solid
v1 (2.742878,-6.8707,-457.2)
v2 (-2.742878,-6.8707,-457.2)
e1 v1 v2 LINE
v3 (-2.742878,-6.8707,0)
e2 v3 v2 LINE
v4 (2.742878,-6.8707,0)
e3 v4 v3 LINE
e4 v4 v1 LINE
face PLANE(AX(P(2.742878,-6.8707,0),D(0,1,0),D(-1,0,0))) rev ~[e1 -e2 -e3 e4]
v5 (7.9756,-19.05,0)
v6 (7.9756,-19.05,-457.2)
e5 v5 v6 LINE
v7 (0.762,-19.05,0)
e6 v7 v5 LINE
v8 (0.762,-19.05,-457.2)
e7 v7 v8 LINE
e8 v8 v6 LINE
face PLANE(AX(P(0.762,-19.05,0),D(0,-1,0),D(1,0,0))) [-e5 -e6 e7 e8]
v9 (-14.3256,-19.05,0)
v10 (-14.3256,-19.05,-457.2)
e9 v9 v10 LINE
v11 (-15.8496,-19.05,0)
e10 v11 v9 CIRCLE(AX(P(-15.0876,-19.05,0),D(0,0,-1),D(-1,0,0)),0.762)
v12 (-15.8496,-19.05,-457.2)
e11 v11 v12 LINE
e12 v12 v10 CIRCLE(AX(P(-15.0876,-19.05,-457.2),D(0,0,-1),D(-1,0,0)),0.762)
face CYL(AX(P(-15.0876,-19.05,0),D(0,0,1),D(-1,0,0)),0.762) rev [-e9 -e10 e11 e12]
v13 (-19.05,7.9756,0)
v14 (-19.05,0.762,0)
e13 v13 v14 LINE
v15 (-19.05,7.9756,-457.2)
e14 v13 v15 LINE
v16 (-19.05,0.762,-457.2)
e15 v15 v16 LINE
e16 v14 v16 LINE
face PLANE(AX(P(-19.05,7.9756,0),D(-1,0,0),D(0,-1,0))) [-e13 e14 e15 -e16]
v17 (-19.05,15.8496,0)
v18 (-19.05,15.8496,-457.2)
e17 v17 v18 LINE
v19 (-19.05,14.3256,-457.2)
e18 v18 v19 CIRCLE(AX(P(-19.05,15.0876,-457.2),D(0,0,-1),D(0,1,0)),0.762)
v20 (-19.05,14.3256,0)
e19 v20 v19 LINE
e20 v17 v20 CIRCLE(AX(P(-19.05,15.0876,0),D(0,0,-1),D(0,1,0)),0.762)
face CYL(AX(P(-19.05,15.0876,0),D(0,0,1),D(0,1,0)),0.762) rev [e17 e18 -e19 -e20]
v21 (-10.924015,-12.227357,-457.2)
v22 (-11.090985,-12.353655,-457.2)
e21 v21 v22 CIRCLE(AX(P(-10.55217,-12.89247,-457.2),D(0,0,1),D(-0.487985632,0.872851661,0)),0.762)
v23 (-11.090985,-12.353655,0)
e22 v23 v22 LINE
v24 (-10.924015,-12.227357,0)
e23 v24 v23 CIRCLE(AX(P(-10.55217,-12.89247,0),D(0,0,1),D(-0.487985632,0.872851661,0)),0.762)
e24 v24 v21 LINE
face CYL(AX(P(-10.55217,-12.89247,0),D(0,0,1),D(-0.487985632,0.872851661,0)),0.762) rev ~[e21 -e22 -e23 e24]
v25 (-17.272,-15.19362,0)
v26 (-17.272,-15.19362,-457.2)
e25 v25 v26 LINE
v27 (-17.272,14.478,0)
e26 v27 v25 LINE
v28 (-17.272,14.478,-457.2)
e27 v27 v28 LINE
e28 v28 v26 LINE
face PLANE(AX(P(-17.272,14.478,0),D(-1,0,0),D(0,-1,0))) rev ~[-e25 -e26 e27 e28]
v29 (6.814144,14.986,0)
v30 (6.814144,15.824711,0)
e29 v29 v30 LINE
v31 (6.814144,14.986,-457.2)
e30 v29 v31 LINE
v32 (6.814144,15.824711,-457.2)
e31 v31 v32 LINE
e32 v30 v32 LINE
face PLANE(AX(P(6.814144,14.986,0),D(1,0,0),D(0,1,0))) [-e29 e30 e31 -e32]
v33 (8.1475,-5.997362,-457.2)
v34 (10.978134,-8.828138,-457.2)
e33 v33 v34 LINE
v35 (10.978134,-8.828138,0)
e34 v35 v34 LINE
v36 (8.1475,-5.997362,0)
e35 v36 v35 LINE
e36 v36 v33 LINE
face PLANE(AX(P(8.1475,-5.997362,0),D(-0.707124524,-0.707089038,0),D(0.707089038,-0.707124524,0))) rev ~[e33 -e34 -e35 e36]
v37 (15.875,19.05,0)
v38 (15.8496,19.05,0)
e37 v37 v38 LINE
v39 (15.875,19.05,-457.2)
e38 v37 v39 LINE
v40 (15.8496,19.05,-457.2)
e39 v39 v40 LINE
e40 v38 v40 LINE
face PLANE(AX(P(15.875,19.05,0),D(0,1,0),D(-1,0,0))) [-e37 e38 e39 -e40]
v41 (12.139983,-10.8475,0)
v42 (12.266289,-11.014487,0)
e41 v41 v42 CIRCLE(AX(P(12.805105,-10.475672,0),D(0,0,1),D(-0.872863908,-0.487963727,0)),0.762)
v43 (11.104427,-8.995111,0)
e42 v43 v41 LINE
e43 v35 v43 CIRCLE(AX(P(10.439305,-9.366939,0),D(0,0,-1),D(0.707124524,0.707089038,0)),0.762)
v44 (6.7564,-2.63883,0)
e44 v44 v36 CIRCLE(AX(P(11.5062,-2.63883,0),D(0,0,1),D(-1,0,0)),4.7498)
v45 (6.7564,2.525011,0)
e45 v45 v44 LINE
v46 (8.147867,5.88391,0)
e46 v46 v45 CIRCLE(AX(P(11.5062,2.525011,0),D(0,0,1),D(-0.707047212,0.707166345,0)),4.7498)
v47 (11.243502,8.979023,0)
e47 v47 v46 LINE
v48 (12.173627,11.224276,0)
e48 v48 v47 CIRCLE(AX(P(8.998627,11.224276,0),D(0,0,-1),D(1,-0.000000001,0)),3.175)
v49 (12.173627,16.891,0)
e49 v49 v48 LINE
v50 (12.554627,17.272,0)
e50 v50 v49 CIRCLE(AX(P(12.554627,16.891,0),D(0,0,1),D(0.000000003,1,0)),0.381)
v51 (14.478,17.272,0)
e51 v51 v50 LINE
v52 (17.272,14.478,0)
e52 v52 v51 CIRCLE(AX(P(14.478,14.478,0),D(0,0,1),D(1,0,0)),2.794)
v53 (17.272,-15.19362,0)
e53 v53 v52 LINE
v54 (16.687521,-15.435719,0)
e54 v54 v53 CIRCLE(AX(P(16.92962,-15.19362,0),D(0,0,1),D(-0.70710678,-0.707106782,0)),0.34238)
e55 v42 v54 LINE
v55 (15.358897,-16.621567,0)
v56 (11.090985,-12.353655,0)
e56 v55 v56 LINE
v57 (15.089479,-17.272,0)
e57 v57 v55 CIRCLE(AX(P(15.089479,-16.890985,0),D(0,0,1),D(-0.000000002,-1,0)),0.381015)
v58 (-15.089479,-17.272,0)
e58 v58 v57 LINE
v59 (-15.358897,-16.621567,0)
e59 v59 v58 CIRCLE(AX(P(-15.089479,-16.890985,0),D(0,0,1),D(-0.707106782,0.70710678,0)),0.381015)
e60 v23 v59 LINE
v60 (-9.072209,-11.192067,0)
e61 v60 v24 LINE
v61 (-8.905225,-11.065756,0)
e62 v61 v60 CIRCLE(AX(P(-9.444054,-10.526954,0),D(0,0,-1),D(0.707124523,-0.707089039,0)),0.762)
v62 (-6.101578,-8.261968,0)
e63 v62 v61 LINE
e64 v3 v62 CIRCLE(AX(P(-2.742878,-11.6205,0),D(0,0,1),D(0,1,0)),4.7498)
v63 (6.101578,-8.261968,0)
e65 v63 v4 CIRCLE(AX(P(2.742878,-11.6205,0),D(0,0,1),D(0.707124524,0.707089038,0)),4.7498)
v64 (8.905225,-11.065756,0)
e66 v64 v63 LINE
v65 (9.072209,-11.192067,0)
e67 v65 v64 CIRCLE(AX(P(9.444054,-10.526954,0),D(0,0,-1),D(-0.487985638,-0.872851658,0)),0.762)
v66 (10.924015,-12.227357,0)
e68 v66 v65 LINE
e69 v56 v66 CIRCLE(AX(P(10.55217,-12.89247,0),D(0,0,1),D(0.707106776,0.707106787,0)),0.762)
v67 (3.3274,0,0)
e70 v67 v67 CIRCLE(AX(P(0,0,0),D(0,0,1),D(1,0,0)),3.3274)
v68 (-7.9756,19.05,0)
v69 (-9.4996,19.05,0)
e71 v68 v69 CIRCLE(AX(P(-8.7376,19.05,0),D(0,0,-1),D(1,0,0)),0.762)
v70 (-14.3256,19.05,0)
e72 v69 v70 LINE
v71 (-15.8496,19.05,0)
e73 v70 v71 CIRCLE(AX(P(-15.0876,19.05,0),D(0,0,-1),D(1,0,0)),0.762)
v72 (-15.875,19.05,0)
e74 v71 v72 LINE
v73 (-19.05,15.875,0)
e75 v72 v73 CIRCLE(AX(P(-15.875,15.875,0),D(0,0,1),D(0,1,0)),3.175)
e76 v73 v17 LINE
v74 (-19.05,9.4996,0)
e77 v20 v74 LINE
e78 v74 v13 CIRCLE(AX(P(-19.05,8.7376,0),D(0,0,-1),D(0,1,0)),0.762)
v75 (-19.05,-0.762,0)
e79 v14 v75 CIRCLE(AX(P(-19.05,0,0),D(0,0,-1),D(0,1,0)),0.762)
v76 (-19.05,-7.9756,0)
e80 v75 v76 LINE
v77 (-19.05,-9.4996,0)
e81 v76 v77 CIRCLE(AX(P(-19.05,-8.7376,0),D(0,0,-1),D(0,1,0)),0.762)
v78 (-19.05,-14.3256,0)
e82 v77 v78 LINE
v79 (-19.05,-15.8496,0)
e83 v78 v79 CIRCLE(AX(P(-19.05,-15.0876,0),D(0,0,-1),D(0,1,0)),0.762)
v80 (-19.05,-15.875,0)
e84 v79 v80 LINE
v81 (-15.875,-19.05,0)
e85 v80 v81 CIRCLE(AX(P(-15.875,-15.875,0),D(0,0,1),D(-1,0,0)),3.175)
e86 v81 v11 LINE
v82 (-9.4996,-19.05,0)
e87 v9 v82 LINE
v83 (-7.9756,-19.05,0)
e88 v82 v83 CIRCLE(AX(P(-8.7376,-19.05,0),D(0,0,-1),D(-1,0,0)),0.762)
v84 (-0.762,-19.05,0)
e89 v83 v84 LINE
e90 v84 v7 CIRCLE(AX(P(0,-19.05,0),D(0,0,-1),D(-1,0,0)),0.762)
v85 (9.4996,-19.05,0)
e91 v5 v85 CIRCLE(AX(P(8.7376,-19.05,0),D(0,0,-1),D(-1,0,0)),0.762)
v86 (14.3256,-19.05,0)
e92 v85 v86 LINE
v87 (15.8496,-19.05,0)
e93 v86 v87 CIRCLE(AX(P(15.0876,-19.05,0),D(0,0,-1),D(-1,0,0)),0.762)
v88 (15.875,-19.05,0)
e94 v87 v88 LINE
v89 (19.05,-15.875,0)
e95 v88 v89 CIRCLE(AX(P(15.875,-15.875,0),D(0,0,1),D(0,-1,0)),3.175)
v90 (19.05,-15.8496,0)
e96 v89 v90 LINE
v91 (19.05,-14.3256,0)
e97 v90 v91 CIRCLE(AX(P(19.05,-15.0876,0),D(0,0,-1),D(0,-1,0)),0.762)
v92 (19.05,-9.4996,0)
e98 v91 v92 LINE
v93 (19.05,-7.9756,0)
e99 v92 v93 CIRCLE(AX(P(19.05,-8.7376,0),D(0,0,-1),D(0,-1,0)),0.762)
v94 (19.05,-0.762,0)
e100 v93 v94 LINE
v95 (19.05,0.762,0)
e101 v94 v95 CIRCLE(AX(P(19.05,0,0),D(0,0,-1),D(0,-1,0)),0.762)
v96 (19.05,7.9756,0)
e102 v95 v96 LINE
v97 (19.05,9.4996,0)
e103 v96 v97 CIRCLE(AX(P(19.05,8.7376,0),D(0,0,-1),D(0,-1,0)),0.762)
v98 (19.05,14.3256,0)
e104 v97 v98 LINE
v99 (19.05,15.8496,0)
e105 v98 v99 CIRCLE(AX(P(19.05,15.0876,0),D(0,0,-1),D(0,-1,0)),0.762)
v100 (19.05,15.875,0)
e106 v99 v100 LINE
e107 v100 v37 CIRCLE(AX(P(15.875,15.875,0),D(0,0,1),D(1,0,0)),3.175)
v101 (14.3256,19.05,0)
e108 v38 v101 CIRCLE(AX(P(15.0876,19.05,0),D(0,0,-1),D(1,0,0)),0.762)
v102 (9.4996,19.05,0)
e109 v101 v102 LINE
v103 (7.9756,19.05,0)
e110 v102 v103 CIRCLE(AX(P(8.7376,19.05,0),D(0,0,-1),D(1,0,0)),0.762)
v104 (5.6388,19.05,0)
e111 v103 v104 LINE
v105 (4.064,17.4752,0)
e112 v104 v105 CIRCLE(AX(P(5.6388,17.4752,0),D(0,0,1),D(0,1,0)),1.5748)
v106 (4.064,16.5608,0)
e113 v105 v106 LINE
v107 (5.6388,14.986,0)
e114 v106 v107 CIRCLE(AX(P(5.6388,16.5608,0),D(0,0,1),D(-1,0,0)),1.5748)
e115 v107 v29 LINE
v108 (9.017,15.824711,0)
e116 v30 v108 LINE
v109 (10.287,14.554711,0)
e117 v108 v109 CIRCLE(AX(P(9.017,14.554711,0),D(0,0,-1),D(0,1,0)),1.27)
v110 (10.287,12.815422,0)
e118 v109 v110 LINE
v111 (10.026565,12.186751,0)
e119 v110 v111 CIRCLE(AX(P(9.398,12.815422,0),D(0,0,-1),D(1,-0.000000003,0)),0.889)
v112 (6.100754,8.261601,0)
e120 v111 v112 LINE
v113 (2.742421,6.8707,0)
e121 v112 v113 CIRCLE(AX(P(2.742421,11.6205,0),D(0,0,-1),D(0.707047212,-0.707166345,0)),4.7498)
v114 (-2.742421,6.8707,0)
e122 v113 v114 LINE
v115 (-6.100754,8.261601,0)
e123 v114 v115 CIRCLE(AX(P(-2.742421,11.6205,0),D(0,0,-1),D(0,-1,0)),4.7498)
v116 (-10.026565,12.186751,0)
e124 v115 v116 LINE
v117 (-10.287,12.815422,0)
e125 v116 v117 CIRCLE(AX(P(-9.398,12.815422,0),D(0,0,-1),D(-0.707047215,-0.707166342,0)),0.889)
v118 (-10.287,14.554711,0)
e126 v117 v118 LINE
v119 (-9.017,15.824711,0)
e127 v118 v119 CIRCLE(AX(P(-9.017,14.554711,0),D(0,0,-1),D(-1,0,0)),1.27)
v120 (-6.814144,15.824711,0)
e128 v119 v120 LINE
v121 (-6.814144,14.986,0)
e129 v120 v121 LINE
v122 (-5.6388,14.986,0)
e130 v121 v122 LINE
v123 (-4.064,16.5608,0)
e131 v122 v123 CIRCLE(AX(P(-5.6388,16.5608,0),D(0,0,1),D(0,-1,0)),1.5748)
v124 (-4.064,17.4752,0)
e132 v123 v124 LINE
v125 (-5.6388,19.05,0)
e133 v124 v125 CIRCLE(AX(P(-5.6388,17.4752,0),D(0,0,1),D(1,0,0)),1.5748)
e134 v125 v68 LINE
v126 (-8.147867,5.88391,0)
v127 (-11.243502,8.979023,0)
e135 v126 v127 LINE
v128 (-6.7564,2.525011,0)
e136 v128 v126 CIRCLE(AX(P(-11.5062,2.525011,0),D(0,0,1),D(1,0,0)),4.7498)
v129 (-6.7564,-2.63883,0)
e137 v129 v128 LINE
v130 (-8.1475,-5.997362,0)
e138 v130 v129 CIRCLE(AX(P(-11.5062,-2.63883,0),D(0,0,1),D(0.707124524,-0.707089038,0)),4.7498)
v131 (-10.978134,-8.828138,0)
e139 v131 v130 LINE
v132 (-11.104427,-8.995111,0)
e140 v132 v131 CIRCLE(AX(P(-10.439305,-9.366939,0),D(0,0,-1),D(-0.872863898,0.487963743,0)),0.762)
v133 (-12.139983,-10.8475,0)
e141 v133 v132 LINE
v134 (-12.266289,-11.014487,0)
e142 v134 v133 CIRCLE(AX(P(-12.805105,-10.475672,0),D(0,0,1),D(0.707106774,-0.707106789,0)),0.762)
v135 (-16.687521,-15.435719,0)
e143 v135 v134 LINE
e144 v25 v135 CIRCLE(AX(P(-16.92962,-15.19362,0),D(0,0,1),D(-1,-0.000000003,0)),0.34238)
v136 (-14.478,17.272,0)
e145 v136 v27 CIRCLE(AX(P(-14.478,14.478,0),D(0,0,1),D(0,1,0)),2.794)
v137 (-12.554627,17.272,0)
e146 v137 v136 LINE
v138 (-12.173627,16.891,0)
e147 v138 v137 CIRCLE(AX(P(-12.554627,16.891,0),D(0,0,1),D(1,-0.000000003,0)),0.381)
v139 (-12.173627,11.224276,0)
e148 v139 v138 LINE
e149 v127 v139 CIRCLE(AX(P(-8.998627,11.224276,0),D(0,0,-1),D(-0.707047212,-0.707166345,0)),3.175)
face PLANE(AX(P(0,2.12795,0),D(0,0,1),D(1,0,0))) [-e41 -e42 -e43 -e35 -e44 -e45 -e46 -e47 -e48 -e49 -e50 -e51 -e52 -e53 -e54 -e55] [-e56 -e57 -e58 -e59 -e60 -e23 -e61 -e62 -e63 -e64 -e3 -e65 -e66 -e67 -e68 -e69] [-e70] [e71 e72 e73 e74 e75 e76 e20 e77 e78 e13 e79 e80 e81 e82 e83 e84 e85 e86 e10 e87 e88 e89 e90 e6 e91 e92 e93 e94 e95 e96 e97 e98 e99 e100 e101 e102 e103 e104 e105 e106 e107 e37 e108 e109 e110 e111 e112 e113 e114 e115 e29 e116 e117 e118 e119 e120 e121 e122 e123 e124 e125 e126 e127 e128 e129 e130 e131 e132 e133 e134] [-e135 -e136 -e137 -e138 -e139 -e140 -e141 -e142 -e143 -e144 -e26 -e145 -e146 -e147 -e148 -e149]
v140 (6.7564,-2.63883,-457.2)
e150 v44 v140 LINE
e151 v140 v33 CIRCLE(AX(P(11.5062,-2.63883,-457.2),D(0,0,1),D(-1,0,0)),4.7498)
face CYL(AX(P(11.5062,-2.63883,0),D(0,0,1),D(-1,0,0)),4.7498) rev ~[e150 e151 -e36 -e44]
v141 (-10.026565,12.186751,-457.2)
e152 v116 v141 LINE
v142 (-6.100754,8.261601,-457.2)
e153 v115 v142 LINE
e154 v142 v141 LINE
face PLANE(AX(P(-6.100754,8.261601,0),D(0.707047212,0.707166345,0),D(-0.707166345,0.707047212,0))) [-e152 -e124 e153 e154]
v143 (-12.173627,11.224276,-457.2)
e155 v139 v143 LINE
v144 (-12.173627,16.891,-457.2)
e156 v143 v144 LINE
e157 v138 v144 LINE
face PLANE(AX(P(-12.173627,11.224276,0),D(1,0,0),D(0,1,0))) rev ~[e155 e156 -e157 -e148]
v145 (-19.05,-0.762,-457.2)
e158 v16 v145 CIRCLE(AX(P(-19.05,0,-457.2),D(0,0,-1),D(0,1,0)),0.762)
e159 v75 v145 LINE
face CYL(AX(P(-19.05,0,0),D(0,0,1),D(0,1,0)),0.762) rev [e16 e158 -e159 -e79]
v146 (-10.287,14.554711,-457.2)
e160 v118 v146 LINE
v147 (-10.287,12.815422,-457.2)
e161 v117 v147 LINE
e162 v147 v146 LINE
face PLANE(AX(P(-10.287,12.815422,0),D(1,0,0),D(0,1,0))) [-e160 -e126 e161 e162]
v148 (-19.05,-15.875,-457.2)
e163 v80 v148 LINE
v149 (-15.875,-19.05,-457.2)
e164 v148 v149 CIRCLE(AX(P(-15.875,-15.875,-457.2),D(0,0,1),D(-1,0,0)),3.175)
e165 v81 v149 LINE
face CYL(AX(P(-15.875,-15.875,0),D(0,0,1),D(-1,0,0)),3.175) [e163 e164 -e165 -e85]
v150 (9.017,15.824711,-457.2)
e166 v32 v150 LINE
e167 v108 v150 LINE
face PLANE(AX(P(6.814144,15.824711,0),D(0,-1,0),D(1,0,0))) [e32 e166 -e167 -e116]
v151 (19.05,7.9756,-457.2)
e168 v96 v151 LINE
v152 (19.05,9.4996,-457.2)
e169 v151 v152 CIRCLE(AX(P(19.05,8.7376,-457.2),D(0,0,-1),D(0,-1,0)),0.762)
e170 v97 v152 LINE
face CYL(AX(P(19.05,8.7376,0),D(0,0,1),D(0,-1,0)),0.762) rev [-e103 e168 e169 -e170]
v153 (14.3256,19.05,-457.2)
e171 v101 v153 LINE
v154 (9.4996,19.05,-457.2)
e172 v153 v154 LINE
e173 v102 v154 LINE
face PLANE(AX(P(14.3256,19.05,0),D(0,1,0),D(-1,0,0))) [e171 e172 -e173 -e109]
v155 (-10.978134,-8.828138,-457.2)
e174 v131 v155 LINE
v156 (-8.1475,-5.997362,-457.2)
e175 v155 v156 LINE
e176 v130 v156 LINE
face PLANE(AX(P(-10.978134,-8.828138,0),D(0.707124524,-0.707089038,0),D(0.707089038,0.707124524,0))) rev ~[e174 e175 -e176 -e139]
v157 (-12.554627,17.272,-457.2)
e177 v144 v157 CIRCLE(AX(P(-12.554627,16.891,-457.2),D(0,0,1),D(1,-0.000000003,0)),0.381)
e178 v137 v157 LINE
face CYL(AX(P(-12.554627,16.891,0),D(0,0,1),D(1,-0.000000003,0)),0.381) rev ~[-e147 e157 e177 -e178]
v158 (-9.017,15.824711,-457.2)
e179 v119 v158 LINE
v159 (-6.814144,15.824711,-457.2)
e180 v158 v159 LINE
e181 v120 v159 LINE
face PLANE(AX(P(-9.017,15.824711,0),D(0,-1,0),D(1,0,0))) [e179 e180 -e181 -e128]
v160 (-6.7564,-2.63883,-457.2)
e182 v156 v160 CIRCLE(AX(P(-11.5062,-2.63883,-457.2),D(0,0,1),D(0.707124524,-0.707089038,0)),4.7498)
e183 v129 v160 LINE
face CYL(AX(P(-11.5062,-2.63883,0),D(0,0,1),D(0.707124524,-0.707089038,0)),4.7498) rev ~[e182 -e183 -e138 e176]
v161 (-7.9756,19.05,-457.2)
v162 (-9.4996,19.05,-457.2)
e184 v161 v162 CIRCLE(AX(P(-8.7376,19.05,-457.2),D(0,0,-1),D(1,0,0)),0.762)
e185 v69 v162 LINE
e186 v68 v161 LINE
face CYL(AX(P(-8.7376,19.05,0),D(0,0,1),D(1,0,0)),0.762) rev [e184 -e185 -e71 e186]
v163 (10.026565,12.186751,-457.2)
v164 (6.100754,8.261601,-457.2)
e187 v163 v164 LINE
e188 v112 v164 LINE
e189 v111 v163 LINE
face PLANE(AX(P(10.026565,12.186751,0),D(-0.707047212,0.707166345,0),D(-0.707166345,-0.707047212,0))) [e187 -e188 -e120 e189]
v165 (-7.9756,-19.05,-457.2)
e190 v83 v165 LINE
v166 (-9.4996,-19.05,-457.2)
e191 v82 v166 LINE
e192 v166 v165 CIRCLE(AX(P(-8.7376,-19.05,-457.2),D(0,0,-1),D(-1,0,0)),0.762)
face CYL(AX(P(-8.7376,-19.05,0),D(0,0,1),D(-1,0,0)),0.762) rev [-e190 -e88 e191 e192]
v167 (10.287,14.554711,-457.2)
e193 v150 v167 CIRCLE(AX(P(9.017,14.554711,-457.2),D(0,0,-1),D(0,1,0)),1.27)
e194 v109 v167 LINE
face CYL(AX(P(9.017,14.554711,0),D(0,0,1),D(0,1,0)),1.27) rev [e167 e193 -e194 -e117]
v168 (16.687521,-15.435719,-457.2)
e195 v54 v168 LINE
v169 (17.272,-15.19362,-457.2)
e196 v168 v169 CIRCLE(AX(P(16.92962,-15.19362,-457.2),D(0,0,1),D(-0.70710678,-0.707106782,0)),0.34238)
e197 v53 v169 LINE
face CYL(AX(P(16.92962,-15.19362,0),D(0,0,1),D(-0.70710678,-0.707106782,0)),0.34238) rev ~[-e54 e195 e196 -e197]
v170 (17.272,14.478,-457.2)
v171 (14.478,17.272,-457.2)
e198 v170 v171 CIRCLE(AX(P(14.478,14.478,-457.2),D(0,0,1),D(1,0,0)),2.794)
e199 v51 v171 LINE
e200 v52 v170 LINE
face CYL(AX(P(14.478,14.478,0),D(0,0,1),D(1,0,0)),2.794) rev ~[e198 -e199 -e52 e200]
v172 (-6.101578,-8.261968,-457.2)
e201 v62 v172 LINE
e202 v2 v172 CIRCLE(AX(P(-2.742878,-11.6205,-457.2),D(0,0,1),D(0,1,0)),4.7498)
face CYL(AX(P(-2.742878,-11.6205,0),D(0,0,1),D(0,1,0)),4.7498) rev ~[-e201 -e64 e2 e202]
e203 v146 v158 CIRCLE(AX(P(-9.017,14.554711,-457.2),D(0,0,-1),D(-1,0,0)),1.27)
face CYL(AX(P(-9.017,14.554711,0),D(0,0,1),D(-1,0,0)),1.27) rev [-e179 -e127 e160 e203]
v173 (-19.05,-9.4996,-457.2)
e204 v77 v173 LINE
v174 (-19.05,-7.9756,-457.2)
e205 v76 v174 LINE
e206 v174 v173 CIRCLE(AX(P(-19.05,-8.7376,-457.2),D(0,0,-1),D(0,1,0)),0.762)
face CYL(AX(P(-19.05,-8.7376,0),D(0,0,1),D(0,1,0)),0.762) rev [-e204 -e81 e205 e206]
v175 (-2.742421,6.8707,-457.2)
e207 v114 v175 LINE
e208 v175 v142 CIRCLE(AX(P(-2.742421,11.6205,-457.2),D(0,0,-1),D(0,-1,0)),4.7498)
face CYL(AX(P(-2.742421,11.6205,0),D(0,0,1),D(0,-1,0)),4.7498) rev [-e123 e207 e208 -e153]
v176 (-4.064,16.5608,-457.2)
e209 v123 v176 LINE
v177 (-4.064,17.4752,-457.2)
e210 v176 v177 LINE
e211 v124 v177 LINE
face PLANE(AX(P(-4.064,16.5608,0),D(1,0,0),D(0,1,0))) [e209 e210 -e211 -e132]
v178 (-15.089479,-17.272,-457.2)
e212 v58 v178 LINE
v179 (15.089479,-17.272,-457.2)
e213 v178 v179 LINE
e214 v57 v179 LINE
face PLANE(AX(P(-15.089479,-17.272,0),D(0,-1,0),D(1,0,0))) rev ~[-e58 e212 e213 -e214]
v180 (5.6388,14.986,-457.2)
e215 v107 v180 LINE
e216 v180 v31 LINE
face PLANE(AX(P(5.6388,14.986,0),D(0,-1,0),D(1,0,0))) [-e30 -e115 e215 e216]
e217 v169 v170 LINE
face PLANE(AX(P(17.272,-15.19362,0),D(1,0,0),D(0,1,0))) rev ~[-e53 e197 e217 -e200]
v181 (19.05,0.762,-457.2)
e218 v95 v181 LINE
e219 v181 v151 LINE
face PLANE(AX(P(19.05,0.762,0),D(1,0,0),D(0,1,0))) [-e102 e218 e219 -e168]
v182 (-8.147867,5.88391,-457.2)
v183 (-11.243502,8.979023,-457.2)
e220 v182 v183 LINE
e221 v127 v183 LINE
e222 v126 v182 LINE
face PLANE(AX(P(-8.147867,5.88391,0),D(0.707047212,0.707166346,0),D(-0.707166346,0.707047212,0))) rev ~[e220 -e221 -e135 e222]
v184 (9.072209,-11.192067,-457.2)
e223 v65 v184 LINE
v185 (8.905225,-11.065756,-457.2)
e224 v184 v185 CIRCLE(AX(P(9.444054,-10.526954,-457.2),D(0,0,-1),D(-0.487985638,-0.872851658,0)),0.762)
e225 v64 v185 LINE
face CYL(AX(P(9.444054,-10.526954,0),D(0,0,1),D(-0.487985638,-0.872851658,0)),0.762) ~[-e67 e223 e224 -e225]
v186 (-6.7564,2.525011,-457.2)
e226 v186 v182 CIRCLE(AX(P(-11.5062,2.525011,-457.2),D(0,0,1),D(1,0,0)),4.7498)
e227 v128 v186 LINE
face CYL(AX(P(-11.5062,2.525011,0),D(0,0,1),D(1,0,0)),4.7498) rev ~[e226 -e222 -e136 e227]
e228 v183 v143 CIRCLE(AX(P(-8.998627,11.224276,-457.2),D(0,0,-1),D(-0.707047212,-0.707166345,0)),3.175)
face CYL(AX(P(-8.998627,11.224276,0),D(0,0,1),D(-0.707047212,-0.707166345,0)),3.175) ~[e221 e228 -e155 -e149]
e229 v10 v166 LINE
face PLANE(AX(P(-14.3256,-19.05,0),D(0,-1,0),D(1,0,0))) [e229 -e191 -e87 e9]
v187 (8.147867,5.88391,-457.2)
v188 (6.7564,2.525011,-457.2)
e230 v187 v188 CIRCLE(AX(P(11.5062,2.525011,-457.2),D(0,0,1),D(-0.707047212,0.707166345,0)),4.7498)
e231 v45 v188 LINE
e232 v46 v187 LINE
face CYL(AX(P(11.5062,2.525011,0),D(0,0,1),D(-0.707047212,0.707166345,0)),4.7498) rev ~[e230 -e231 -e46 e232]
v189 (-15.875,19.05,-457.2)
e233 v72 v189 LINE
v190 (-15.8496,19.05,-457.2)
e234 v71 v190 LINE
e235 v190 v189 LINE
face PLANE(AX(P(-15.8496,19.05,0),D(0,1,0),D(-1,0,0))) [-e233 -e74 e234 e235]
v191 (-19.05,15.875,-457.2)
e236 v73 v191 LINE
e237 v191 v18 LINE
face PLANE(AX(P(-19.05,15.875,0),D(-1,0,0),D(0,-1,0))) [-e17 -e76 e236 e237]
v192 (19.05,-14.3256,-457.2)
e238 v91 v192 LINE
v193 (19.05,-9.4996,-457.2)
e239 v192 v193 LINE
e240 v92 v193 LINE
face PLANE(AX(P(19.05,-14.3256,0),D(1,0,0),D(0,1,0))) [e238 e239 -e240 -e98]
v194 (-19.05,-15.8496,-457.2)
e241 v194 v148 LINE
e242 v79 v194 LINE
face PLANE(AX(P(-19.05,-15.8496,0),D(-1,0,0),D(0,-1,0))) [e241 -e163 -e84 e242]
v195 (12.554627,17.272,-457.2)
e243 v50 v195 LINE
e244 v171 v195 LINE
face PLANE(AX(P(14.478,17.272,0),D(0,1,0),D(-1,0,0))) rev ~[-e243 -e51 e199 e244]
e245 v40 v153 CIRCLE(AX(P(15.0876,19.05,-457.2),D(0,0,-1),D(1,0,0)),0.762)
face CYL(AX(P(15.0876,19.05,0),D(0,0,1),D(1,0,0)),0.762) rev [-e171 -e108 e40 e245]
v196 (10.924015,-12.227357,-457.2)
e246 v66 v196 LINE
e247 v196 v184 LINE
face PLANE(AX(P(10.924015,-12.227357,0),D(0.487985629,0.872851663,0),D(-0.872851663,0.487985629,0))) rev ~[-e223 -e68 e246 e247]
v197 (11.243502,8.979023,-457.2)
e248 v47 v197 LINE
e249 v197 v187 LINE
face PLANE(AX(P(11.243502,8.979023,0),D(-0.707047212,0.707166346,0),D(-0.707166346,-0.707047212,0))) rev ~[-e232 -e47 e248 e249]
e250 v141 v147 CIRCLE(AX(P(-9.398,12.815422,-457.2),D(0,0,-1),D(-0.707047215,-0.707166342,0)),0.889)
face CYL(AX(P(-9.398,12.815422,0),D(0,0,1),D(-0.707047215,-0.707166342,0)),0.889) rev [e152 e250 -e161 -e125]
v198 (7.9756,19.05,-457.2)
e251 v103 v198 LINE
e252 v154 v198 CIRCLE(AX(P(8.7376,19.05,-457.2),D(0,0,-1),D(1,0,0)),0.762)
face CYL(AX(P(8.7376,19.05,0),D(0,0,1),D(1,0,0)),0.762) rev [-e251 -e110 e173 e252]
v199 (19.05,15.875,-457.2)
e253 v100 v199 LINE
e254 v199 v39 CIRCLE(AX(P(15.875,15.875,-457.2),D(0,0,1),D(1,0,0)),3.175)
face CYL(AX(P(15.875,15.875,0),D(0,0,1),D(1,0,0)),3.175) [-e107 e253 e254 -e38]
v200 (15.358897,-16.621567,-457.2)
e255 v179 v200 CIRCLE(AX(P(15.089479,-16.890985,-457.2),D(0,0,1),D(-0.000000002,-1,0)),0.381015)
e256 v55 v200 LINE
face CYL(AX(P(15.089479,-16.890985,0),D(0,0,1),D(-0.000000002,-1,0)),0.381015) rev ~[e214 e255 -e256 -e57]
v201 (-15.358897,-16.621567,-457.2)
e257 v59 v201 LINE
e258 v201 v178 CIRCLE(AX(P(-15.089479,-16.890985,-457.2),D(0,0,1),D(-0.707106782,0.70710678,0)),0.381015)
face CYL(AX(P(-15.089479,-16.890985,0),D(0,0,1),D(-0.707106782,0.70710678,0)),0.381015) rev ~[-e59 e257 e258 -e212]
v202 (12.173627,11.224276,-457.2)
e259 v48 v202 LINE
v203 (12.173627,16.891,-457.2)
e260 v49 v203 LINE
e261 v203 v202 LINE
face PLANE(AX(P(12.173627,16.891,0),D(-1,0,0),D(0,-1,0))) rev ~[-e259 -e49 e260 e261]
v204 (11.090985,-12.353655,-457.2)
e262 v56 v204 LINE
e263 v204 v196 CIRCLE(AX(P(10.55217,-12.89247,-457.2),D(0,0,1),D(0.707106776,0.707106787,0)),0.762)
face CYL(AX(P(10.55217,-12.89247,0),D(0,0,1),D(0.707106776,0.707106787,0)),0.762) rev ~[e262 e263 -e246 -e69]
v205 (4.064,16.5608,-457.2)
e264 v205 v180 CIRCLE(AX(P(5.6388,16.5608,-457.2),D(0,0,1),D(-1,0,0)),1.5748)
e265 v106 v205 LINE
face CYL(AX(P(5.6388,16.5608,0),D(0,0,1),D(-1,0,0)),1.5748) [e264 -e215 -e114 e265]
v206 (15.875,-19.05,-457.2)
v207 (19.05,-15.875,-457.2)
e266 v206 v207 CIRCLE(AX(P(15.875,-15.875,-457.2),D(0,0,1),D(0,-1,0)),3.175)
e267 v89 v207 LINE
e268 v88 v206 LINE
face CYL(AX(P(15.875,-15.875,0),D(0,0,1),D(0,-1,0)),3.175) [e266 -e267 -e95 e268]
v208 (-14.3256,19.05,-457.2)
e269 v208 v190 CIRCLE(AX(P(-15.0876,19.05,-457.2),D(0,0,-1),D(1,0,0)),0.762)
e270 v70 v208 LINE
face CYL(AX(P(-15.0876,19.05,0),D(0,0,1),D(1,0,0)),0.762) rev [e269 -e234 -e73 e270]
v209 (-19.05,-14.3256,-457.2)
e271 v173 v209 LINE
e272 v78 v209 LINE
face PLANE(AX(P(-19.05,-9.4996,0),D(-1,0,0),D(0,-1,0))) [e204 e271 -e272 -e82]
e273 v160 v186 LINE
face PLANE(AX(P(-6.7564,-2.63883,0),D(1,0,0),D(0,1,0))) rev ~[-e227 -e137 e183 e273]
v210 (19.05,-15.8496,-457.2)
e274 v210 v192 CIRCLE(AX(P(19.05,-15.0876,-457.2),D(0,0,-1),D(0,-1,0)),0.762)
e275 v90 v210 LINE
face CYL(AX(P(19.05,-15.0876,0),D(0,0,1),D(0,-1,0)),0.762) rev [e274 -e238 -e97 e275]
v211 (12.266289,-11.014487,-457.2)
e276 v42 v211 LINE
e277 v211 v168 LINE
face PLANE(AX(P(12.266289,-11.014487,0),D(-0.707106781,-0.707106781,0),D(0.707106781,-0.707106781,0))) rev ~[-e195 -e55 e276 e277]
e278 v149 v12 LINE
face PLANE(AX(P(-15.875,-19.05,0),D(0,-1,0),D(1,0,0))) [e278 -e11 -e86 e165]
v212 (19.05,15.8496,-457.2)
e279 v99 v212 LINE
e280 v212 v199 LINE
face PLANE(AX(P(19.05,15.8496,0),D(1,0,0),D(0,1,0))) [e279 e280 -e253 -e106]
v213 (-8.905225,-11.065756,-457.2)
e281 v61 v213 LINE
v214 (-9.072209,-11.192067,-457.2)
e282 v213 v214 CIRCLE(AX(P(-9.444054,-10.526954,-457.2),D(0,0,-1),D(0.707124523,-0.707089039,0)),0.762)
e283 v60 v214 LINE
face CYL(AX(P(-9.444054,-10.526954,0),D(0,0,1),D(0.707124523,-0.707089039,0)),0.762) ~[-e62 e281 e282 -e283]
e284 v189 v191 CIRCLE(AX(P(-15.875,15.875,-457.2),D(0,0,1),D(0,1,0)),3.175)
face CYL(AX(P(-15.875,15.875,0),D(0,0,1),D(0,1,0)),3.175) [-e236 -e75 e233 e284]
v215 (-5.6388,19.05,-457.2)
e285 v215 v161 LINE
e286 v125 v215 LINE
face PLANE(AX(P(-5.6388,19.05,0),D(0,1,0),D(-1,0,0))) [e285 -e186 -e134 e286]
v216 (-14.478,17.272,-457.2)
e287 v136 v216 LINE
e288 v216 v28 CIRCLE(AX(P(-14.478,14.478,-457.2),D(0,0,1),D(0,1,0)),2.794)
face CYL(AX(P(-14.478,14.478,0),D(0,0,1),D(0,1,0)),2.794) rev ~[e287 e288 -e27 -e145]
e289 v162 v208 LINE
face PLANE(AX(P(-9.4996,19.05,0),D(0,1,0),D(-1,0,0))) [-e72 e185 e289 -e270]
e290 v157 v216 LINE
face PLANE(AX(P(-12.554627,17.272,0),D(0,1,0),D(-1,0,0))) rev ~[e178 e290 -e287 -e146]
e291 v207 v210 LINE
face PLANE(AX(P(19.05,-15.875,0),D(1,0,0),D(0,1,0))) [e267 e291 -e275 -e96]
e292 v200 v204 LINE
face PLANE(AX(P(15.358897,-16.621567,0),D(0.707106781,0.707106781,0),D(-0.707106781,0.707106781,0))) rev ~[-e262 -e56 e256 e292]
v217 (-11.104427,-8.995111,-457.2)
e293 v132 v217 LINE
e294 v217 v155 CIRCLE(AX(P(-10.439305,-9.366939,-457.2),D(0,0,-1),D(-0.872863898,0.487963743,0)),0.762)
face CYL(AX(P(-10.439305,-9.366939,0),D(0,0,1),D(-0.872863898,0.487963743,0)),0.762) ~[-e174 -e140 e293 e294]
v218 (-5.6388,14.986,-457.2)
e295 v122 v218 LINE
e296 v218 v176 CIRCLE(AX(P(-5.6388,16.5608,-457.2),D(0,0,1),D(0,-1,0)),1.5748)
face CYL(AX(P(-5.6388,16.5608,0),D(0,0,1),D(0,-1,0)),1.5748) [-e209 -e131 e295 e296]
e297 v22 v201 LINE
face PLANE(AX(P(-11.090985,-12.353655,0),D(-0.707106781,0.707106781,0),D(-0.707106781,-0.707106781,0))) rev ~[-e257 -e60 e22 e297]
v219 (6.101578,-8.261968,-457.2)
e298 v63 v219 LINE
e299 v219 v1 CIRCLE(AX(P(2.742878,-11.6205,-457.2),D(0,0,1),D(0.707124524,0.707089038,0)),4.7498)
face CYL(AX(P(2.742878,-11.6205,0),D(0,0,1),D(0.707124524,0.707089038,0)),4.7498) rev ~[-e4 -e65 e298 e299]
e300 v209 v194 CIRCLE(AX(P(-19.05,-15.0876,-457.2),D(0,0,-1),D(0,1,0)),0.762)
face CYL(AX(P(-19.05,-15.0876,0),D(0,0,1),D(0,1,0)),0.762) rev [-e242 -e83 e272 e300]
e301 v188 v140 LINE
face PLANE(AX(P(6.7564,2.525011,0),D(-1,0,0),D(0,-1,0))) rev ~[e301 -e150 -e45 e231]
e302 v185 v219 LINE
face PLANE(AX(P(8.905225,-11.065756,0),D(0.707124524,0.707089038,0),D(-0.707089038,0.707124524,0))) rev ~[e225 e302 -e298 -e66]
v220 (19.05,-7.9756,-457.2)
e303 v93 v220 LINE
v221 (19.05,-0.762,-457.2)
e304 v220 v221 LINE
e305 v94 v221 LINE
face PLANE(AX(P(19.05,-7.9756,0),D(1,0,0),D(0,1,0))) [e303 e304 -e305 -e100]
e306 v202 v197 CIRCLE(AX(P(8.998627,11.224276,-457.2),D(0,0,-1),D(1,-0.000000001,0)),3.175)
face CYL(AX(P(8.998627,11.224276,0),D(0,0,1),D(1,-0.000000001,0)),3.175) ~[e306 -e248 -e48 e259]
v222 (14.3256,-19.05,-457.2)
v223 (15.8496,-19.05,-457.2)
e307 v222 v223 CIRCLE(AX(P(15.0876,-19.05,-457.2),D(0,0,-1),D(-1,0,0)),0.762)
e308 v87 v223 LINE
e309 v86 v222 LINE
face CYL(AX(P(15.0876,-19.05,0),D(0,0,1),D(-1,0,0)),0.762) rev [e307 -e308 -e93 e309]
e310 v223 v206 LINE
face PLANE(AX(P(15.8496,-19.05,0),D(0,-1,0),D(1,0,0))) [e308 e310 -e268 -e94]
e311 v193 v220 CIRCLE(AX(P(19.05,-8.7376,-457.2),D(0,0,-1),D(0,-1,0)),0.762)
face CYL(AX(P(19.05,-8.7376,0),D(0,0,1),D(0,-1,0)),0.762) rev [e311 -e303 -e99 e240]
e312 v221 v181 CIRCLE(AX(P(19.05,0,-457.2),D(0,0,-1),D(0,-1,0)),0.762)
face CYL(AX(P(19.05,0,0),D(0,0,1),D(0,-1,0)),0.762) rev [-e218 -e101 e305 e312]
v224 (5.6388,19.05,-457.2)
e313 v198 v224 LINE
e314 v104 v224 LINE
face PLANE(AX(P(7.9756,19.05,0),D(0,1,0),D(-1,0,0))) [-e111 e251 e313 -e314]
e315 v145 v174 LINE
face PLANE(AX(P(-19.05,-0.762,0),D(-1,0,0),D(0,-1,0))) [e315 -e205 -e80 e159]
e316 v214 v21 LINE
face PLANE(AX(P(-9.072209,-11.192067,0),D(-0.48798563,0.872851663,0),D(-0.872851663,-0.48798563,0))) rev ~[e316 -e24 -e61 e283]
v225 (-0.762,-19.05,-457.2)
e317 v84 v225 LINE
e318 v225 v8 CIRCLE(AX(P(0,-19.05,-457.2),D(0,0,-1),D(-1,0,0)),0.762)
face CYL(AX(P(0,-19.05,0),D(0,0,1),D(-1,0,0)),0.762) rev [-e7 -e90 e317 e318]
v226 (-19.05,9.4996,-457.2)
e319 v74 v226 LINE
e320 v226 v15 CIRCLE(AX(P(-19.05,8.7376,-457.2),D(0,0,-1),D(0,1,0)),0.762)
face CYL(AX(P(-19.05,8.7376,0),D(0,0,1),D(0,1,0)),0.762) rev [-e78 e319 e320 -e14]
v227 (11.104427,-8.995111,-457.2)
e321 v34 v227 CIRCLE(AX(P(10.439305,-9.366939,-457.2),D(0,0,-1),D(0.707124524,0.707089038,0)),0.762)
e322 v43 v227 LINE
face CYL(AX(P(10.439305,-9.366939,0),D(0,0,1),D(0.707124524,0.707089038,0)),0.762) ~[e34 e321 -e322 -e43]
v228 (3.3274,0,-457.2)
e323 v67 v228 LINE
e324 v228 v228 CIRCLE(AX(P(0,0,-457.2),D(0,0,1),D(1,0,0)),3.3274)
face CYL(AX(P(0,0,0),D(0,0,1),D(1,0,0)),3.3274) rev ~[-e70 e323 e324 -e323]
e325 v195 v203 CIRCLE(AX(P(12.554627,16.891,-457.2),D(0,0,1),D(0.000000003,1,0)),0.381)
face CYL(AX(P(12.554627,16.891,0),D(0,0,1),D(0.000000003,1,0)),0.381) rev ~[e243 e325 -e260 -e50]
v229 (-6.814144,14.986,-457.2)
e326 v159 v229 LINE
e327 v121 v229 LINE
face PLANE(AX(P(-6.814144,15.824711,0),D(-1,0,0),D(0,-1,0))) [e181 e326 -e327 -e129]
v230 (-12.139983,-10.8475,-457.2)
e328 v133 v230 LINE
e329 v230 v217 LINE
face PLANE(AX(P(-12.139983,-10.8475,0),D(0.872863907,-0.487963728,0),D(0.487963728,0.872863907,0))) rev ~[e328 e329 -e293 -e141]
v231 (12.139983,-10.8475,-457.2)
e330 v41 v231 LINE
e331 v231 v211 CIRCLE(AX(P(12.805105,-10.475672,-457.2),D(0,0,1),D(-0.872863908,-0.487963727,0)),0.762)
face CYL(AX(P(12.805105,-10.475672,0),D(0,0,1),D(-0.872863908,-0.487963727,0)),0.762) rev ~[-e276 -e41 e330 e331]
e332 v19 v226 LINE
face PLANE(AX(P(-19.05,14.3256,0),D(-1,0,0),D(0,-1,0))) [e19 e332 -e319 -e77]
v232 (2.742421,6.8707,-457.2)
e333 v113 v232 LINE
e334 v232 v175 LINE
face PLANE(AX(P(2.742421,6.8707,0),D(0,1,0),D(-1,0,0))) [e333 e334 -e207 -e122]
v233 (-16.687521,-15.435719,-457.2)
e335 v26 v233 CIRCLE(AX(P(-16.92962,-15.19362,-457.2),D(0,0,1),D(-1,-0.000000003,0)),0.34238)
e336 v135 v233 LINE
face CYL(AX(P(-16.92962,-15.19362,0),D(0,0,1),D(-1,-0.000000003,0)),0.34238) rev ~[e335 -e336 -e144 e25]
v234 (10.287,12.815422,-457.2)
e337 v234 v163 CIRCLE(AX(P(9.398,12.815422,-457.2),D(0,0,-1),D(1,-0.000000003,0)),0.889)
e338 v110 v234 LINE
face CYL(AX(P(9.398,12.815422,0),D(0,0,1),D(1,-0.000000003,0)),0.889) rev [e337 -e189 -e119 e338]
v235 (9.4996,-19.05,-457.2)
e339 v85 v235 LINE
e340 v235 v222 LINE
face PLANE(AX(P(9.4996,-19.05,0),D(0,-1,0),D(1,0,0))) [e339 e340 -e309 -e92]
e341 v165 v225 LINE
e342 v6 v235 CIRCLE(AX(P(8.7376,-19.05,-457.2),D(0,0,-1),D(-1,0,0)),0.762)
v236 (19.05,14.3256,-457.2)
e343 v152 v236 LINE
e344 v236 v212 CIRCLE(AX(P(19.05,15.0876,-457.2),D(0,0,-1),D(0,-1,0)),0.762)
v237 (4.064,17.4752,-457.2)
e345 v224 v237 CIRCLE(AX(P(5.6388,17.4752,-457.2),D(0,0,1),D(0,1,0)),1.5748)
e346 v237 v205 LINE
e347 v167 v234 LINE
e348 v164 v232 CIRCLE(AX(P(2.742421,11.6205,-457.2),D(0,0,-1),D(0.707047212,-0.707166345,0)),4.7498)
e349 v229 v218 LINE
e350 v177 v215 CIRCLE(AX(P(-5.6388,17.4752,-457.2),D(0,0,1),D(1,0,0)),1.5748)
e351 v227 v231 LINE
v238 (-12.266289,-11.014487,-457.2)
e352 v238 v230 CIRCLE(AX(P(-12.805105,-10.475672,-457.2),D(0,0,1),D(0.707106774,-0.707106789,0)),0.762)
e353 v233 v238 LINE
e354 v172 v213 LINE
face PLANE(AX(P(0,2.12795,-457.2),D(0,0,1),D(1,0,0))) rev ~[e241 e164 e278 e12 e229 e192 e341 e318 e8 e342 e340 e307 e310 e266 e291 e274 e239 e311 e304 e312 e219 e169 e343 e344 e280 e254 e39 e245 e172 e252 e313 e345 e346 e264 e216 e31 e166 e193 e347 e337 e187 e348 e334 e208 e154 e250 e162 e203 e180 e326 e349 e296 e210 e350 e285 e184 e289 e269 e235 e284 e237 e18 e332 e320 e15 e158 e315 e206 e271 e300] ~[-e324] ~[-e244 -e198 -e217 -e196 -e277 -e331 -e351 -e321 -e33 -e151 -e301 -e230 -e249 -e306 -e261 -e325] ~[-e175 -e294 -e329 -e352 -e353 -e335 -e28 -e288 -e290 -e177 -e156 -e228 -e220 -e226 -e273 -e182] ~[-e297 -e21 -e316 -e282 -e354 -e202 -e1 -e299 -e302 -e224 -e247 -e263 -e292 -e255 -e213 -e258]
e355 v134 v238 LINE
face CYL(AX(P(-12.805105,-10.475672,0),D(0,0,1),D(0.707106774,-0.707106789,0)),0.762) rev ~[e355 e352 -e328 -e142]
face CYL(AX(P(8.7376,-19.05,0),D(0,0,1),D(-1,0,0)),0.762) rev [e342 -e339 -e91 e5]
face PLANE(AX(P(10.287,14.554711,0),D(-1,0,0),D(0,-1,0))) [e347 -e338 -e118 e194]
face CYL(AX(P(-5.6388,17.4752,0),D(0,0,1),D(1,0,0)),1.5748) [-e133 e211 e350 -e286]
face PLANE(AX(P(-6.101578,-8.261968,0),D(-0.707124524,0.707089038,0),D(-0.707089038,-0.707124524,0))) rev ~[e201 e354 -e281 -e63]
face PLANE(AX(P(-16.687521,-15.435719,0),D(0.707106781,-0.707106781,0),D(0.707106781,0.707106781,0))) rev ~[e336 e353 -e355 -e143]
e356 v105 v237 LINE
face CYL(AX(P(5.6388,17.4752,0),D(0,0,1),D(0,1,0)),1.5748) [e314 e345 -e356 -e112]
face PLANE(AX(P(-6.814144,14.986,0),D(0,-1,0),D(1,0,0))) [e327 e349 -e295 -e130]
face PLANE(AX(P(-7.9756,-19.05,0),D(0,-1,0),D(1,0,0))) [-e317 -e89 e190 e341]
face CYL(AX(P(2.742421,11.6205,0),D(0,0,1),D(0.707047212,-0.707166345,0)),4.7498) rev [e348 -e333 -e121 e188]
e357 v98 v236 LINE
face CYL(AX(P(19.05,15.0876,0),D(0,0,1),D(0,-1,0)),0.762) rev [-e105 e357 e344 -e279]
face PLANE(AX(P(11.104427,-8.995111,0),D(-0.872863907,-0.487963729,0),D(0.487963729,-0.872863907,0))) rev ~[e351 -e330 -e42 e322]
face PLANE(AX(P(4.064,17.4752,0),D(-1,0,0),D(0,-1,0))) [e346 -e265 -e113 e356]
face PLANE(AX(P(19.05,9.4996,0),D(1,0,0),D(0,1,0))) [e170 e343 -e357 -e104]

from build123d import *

# Parameters (mm, degrees)
SKETCH1_R      = 3.3274
EXTRUDE1_DEPTH = 457.2


with BuildPart() as part:
    # Sketch1 → Extrude1 (new body)
    with BuildSketch(Plane.XY):
        with BuildLine():
            Line((6.814144258, 15.824710921), (9.017, 15.824710921))
            ThreePointArc((9.017, 15.824710921), (9.915025612, 15.452736533), (10.287, 14.554710921))
            Line((10.287, 14.554710921), (10.287, 12.815421755))
            ThreePointArc((10.287, 12.815421755), (10.219314574, 12.47518159), (10.026564972, 12.186750874))
            Line((10.026564972, 12.186750874), (6.100754025, 8.261601293))
            ThreePointArc((6.100754025, 8.261601293), (4.55990611, 7.23218044), (2.742421178, 6.8707))
            Line((2.742421178, 6.8707), (-2.742421178, 6.8707))
            ThreePointArc((-2.742421178, 6.8707), (-4.55990611, 7.23218044), (-6.100754025, 8.261601293))
            Line((-6.100754025, 8.261601293), (-10.026564972, 12.186750874))
            ThreePointArc((-10.026564972, 12.186750874), (-10.219314574, 12.47518159), (-10.287, 12.815421755))
            Line((-10.287, 12.815421755), (-10.287, 14.554710921))
            ThreePointArc((-10.287, 14.554710921), (-9.915025612, 15.452736533), (-9.017, 15.824710921))
            Line((-9.017, 15.824710921), (-6.814144258, 15.824710921))
            Line((-6.814144258, 15.824710921), (-6.814144258, 14.986))
            Line((-6.814144258, 14.986), (-5.6388, 14.986))
            ThreePointArc((-5.6388, 14.986), (-4.525248241, 15.447248241), (-4.064, 16.5608))
            Line((-4.064, 16.5608), (-4.064, 17.4752))
            ThreePointArc((-4.064, 17.4752), (-4.525248241, 18.588751759), (-5.6388, 19.05))
            Line((-5.6388, 19.05), (-7.9756, 19.05))
            ThreePointArc((-7.9756, 19.05), (-8.7376, 18.288), (-9.4996, 19.05))
            Line((-9.4996, 19.05), (-14.3256, 19.05))
            ThreePointArc((-14.3256, 19.05), (-15.0876, 18.288), (-15.8496, 19.05))
            Line((-15.8496, 19.05), (-15.875, 19.05))
            ThreePointArc((-15.875, 19.05), (-18.12006403, 18.12006403), (-19.05, 15.875))
            Line((-19.05, 15.875), (-19.05, 15.8496))
            ThreePointArc((-19.05, 15.8496), (-18.288, 15.0876), (-19.05, 14.3256))
            Line((-19.05, 14.3256), (-19.05, 9.4996))
            ThreePointArc((-19.05, 9.4996), (-18.288, 8.7376), (-19.05, 7.9756))
            Line((-19.05, 7.9756), (-19.05, 0.762))
            ThreePointArc((-19.05, 0.762), (-18.288, 0), (-19.05, -0.762))
            Line((-19.05, -0.762), (-19.05, -7.9756))
            ThreePointArc((-19.05, -7.9756), (-18.288, -8.7376), (-19.05, -9.4996))
            Line((-19.05, -9.4996), (-19.05, -14.3256))
            ThreePointArc((-19.05, -14.3256), (-18.288, -15.0876), (-19.05, -15.8496))
            Line((-19.05, -15.8496), (-19.05, -15.875))
            ThreePointArc((-19.05, -15.875), (-18.12006403, -18.12006403), (-15.875, -19.05))
            Line((-15.875, -19.05), (-15.8496, -19.05))
            ThreePointArc((-15.8496, -19.05), (-15.0876, -18.288), (-14.3256, -19.05))
            Line((-14.3256, -19.05), (-9.4996, -19.05))
            ThreePointArc((-9.4996, -19.05), (-8.7376, -18.288), (-7.9756, -19.05))
            Line((-7.9756, -19.05), (-0.762, -19.05))
            ThreePointArc((-0.762, -19.05), (0, -18.288), (0.762, -19.05))
            Line((0.762, -19.05), (7.9756, -19.05))
            ThreePointArc((7.9756, -19.05), (8.7376, -18.288), (9.4996, -19.05))
            Line((9.4996, -19.05), (14.3256, -19.05))
            ThreePointArc((14.3256, -19.05), (15.0876, -18.288), (15.8496, -19.05))
            Line((15.8496, -19.05), (15.875, -19.05))
            ThreePointArc((15.875, -19.05), (18.12006403, -18.12006403), (19.05, -15.875))
            Line((19.05, -15.875), (19.05, -15.8496))
            ThreePointArc((19.05, -15.8496), (18.288, -15.0876), (19.05, -14.3256))
            Line((19.05, -14.3256), (19.05, -9.4996))
            ThreePointArc((19.05, -9.4996), (18.288, -8.7376), (19.05, -7.9756))
            Line((19.05, -7.9756), (19.05, -0.762))
            ThreePointArc((19.05, -0.762), (18.288, 0), (19.05, 0.762))
            Line((19.05, 0.762), (19.05, 7.9756))
            ThreePointArc((19.05, 7.9756), (18.288, 8.7376), (19.05, 9.4996))
            Line((19.05, 9.4996), (19.05, 14.3256))
            ThreePointArc((19.05, 14.3256), (18.288, 15.0876), (19.05, 15.8496))
            Line((19.05, 15.8496), (19.05, 15.875))
            ThreePointArc((19.05, 15.875), (18.12006403, 18.12006403), (15.875, 19.05))
            Line((15.875, 19.05), (15.8496, 19.05))
            ThreePointArc((15.8496, 19.05), (15.0876, 18.288), (14.3256, 19.05))
            Line((14.3256, 19.05), (9.4996, 19.05))
            ThreePointArc((9.4996, 19.05), (8.7376, 18.288), (7.9756, 19.05))
            Line((7.9756, 19.05), (5.6388, 19.05))
            ThreePointArc((5.6388, 19.05), (4.525248241, 18.588751759), (4.064, 17.4752))
            Line((4.064, 17.4752), (4.064, 16.5608))
            ThreePointArc((4.064, 16.5608), (4.525248241, 15.447248241), (5.6388, 14.986))
            Line((5.6388, 14.986), (6.814144258, 14.986))
            Line((6.814144258, 14.986), (6.814144258, 15.824710921))
        make_face()
        Circle(SKETCH1_R, mode=Mode.SUBTRACT)
        with BuildLine():
            Line((17.272, -15.193619561), (17.272, 14.478))
            ThreePointArc((17.272, 14.478), (16.453656347, 16.453656347), (14.478, 17.272))
            Line((14.478, 17.272), (12.554627238, 17.272))
            ThreePointArc((12.554627238, 17.272), (12.285219554, 17.160407684), (12.173627238, 16.891))
            Line((12.173627238, 16.891), (12.173627238, 11.224276306))
            ThreePointArc((12.173627238, 11.224276306), (11.931893574, 10.009132858), (11.243502135, 8.979023159))
            Line((11.243502135, 8.979023159), (8.147867153, 5.883909687))
            ThreePointArc((8.147867153, 5.883909687), (7.118033561, 4.342865578), (6.7564, 2.525010979))
            Line((6.7564, 2.525010979), (6.7564, -2.638829998))
            ThreePointArc((6.7564, -2.638829998), (7.117934192, -4.456444709), (8.147499936, -5.99736151))
            Line((8.147499936, -5.99736151), (10.978133922, -8.828137555))
            ThreePointArc((10.978133922, -8.828137555), (11.047042355, -8.907266312), (11.104427332, -8.995111041))
            Line((11.104427332, -8.995111041), (12.13998256, -10.847500325))
            ThreePointArc((12.13998256, -10.847500325), (12.197373304, -10.935352679), (12.266289489, -11.014487331))
            Line((12.266289489, -11.014487331), (16.687520892, -15.435718734))
            ThreePointArc((16.687520892, -15.435718734), (17.060643194, -15.509937374), (17.272, -15.193619561))
        make_face(mode=Mode.SUBTRACT)
        with BuildLine():
            Line((-12.173627238, 11.224276306), (-12.173627238, 16.891))
            ThreePointArc((-12.173627238, 16.891), (-12.285219554, 17.160407684), (-12.554627238, 17.272))
            Line((-12.554627238, 17.272), (-14.478, 17.272))
            ThreePointArc((-14.478, 17.272), (-16.453656347, 16.453656347), (-17.272, 14.478))
            Line((-17.272, 14.478), (-17.272, -15.193619561))
            ThreePointArc((-17.272, -15.193619561), (-17.060643194, -15.509937374), (-16.687520892, -15.435718734))
            Line((-16.687520892, -15.435718734), (-12.266289488, -11.014487333))
            ThreePointArc((-12.266289488, -11.014487333), (-12.197373302, -10.935352681), (-12.139982558, -10.847500326))
            Line((-12.139982558, -10.847500326), (-11.104427331, -8.995111042))
            ThreePointArc((-11.104427331, -8.995111042), (-11.047042353, -8.907266313), (-10.978133921, -8.828137556))
            Line((-10.978133921, -8.828137556), (-8.147499934, -5.997361511))
            ThreePointArc((-8.147499934, -5.997361511), (-7.11793419, -4.45644471), (-6.756399998, -2.638829999))
            Line((-6.756399998, -2.638829999), (-6.756399998, 2.525010979))
            ThreePointArc((-6.756399998, 2.525010979), (-7.118033559, 4.342865578), (-8.147867152, 5.883909688))
            Line((-8.147867152, 5.883909688), (-11.243502135, 8.979023158))
            ThreePointArc((-11.243502135, 8.979023158), (-11.931893574, 10.009132857), (-12.173627238, 11.224276306))
        make_face(mode=Mode.SUBTRACT)
        with BuildLine():
            Line((15.358897182, -16.621566737), (11.090984974, -12.353654529))
            ThreePointArc((11.090984974, -12.353654529), (11.011857946, -12.284744111), (10.924014656, -12.227356929))
            Line((10.924014656, -12.227356929), (9.072208991, -11.192066981))
            ThreePointArc((9.072208991, -11.192066981), (8.984358076, -11.134674031), (8.905225153, -11.06575586))
            Line((8.905225153, -11.06575586), (6.101578488, -8.261968492))
            ThreePointArc((6.101578488, -8.261968492), (4.560603247, -7.232279806), (2.742878424, -6.870700004))
            Line((2.742878424, -6.870700004), (-2.742878422, -6.870700004))
            ThreePointArc((-2.742878422, -6.870700004), (-4.560603245, -7.232279806), (-6.101578486, -8.261968491))
            Line((-6.101578486, -8.261968491), (-8.905225151, -11.06575586))
            ThreePointArc((-8.905225151, -11.06575586), (-8.984358074, -11.134674031), (-9.072208989, -11.19206698))
            Line((-9.072208989, -11.19206698), (-10.924014654, -12.227356929))
            ThreePointArc((-10.924014654, -12.227356929), (-11.011857944, -12.284744111), (-11.090984971, -12.353654529))
            Line((-11.090984971, -12.353654529), (-15.35889718, -16.621566737))
            ThreePointArc((-15.35889718, -16.621566737), (-15.441490846, -17.036793139), (-15.0894789, -17.272000001))
            Line((-15.0894789, -17.272000001), (15.089478903, -17.272000001))
            ThreePointArc((15.089478903, -17.272000001), (15.441490849, -17.036793139), (15.358897182, -16.621566737))
        make_face(mode=Mode.SUBTRACT)
    extrude(amount=-EXTRUDE1_DEPTH)


solid = part.part
